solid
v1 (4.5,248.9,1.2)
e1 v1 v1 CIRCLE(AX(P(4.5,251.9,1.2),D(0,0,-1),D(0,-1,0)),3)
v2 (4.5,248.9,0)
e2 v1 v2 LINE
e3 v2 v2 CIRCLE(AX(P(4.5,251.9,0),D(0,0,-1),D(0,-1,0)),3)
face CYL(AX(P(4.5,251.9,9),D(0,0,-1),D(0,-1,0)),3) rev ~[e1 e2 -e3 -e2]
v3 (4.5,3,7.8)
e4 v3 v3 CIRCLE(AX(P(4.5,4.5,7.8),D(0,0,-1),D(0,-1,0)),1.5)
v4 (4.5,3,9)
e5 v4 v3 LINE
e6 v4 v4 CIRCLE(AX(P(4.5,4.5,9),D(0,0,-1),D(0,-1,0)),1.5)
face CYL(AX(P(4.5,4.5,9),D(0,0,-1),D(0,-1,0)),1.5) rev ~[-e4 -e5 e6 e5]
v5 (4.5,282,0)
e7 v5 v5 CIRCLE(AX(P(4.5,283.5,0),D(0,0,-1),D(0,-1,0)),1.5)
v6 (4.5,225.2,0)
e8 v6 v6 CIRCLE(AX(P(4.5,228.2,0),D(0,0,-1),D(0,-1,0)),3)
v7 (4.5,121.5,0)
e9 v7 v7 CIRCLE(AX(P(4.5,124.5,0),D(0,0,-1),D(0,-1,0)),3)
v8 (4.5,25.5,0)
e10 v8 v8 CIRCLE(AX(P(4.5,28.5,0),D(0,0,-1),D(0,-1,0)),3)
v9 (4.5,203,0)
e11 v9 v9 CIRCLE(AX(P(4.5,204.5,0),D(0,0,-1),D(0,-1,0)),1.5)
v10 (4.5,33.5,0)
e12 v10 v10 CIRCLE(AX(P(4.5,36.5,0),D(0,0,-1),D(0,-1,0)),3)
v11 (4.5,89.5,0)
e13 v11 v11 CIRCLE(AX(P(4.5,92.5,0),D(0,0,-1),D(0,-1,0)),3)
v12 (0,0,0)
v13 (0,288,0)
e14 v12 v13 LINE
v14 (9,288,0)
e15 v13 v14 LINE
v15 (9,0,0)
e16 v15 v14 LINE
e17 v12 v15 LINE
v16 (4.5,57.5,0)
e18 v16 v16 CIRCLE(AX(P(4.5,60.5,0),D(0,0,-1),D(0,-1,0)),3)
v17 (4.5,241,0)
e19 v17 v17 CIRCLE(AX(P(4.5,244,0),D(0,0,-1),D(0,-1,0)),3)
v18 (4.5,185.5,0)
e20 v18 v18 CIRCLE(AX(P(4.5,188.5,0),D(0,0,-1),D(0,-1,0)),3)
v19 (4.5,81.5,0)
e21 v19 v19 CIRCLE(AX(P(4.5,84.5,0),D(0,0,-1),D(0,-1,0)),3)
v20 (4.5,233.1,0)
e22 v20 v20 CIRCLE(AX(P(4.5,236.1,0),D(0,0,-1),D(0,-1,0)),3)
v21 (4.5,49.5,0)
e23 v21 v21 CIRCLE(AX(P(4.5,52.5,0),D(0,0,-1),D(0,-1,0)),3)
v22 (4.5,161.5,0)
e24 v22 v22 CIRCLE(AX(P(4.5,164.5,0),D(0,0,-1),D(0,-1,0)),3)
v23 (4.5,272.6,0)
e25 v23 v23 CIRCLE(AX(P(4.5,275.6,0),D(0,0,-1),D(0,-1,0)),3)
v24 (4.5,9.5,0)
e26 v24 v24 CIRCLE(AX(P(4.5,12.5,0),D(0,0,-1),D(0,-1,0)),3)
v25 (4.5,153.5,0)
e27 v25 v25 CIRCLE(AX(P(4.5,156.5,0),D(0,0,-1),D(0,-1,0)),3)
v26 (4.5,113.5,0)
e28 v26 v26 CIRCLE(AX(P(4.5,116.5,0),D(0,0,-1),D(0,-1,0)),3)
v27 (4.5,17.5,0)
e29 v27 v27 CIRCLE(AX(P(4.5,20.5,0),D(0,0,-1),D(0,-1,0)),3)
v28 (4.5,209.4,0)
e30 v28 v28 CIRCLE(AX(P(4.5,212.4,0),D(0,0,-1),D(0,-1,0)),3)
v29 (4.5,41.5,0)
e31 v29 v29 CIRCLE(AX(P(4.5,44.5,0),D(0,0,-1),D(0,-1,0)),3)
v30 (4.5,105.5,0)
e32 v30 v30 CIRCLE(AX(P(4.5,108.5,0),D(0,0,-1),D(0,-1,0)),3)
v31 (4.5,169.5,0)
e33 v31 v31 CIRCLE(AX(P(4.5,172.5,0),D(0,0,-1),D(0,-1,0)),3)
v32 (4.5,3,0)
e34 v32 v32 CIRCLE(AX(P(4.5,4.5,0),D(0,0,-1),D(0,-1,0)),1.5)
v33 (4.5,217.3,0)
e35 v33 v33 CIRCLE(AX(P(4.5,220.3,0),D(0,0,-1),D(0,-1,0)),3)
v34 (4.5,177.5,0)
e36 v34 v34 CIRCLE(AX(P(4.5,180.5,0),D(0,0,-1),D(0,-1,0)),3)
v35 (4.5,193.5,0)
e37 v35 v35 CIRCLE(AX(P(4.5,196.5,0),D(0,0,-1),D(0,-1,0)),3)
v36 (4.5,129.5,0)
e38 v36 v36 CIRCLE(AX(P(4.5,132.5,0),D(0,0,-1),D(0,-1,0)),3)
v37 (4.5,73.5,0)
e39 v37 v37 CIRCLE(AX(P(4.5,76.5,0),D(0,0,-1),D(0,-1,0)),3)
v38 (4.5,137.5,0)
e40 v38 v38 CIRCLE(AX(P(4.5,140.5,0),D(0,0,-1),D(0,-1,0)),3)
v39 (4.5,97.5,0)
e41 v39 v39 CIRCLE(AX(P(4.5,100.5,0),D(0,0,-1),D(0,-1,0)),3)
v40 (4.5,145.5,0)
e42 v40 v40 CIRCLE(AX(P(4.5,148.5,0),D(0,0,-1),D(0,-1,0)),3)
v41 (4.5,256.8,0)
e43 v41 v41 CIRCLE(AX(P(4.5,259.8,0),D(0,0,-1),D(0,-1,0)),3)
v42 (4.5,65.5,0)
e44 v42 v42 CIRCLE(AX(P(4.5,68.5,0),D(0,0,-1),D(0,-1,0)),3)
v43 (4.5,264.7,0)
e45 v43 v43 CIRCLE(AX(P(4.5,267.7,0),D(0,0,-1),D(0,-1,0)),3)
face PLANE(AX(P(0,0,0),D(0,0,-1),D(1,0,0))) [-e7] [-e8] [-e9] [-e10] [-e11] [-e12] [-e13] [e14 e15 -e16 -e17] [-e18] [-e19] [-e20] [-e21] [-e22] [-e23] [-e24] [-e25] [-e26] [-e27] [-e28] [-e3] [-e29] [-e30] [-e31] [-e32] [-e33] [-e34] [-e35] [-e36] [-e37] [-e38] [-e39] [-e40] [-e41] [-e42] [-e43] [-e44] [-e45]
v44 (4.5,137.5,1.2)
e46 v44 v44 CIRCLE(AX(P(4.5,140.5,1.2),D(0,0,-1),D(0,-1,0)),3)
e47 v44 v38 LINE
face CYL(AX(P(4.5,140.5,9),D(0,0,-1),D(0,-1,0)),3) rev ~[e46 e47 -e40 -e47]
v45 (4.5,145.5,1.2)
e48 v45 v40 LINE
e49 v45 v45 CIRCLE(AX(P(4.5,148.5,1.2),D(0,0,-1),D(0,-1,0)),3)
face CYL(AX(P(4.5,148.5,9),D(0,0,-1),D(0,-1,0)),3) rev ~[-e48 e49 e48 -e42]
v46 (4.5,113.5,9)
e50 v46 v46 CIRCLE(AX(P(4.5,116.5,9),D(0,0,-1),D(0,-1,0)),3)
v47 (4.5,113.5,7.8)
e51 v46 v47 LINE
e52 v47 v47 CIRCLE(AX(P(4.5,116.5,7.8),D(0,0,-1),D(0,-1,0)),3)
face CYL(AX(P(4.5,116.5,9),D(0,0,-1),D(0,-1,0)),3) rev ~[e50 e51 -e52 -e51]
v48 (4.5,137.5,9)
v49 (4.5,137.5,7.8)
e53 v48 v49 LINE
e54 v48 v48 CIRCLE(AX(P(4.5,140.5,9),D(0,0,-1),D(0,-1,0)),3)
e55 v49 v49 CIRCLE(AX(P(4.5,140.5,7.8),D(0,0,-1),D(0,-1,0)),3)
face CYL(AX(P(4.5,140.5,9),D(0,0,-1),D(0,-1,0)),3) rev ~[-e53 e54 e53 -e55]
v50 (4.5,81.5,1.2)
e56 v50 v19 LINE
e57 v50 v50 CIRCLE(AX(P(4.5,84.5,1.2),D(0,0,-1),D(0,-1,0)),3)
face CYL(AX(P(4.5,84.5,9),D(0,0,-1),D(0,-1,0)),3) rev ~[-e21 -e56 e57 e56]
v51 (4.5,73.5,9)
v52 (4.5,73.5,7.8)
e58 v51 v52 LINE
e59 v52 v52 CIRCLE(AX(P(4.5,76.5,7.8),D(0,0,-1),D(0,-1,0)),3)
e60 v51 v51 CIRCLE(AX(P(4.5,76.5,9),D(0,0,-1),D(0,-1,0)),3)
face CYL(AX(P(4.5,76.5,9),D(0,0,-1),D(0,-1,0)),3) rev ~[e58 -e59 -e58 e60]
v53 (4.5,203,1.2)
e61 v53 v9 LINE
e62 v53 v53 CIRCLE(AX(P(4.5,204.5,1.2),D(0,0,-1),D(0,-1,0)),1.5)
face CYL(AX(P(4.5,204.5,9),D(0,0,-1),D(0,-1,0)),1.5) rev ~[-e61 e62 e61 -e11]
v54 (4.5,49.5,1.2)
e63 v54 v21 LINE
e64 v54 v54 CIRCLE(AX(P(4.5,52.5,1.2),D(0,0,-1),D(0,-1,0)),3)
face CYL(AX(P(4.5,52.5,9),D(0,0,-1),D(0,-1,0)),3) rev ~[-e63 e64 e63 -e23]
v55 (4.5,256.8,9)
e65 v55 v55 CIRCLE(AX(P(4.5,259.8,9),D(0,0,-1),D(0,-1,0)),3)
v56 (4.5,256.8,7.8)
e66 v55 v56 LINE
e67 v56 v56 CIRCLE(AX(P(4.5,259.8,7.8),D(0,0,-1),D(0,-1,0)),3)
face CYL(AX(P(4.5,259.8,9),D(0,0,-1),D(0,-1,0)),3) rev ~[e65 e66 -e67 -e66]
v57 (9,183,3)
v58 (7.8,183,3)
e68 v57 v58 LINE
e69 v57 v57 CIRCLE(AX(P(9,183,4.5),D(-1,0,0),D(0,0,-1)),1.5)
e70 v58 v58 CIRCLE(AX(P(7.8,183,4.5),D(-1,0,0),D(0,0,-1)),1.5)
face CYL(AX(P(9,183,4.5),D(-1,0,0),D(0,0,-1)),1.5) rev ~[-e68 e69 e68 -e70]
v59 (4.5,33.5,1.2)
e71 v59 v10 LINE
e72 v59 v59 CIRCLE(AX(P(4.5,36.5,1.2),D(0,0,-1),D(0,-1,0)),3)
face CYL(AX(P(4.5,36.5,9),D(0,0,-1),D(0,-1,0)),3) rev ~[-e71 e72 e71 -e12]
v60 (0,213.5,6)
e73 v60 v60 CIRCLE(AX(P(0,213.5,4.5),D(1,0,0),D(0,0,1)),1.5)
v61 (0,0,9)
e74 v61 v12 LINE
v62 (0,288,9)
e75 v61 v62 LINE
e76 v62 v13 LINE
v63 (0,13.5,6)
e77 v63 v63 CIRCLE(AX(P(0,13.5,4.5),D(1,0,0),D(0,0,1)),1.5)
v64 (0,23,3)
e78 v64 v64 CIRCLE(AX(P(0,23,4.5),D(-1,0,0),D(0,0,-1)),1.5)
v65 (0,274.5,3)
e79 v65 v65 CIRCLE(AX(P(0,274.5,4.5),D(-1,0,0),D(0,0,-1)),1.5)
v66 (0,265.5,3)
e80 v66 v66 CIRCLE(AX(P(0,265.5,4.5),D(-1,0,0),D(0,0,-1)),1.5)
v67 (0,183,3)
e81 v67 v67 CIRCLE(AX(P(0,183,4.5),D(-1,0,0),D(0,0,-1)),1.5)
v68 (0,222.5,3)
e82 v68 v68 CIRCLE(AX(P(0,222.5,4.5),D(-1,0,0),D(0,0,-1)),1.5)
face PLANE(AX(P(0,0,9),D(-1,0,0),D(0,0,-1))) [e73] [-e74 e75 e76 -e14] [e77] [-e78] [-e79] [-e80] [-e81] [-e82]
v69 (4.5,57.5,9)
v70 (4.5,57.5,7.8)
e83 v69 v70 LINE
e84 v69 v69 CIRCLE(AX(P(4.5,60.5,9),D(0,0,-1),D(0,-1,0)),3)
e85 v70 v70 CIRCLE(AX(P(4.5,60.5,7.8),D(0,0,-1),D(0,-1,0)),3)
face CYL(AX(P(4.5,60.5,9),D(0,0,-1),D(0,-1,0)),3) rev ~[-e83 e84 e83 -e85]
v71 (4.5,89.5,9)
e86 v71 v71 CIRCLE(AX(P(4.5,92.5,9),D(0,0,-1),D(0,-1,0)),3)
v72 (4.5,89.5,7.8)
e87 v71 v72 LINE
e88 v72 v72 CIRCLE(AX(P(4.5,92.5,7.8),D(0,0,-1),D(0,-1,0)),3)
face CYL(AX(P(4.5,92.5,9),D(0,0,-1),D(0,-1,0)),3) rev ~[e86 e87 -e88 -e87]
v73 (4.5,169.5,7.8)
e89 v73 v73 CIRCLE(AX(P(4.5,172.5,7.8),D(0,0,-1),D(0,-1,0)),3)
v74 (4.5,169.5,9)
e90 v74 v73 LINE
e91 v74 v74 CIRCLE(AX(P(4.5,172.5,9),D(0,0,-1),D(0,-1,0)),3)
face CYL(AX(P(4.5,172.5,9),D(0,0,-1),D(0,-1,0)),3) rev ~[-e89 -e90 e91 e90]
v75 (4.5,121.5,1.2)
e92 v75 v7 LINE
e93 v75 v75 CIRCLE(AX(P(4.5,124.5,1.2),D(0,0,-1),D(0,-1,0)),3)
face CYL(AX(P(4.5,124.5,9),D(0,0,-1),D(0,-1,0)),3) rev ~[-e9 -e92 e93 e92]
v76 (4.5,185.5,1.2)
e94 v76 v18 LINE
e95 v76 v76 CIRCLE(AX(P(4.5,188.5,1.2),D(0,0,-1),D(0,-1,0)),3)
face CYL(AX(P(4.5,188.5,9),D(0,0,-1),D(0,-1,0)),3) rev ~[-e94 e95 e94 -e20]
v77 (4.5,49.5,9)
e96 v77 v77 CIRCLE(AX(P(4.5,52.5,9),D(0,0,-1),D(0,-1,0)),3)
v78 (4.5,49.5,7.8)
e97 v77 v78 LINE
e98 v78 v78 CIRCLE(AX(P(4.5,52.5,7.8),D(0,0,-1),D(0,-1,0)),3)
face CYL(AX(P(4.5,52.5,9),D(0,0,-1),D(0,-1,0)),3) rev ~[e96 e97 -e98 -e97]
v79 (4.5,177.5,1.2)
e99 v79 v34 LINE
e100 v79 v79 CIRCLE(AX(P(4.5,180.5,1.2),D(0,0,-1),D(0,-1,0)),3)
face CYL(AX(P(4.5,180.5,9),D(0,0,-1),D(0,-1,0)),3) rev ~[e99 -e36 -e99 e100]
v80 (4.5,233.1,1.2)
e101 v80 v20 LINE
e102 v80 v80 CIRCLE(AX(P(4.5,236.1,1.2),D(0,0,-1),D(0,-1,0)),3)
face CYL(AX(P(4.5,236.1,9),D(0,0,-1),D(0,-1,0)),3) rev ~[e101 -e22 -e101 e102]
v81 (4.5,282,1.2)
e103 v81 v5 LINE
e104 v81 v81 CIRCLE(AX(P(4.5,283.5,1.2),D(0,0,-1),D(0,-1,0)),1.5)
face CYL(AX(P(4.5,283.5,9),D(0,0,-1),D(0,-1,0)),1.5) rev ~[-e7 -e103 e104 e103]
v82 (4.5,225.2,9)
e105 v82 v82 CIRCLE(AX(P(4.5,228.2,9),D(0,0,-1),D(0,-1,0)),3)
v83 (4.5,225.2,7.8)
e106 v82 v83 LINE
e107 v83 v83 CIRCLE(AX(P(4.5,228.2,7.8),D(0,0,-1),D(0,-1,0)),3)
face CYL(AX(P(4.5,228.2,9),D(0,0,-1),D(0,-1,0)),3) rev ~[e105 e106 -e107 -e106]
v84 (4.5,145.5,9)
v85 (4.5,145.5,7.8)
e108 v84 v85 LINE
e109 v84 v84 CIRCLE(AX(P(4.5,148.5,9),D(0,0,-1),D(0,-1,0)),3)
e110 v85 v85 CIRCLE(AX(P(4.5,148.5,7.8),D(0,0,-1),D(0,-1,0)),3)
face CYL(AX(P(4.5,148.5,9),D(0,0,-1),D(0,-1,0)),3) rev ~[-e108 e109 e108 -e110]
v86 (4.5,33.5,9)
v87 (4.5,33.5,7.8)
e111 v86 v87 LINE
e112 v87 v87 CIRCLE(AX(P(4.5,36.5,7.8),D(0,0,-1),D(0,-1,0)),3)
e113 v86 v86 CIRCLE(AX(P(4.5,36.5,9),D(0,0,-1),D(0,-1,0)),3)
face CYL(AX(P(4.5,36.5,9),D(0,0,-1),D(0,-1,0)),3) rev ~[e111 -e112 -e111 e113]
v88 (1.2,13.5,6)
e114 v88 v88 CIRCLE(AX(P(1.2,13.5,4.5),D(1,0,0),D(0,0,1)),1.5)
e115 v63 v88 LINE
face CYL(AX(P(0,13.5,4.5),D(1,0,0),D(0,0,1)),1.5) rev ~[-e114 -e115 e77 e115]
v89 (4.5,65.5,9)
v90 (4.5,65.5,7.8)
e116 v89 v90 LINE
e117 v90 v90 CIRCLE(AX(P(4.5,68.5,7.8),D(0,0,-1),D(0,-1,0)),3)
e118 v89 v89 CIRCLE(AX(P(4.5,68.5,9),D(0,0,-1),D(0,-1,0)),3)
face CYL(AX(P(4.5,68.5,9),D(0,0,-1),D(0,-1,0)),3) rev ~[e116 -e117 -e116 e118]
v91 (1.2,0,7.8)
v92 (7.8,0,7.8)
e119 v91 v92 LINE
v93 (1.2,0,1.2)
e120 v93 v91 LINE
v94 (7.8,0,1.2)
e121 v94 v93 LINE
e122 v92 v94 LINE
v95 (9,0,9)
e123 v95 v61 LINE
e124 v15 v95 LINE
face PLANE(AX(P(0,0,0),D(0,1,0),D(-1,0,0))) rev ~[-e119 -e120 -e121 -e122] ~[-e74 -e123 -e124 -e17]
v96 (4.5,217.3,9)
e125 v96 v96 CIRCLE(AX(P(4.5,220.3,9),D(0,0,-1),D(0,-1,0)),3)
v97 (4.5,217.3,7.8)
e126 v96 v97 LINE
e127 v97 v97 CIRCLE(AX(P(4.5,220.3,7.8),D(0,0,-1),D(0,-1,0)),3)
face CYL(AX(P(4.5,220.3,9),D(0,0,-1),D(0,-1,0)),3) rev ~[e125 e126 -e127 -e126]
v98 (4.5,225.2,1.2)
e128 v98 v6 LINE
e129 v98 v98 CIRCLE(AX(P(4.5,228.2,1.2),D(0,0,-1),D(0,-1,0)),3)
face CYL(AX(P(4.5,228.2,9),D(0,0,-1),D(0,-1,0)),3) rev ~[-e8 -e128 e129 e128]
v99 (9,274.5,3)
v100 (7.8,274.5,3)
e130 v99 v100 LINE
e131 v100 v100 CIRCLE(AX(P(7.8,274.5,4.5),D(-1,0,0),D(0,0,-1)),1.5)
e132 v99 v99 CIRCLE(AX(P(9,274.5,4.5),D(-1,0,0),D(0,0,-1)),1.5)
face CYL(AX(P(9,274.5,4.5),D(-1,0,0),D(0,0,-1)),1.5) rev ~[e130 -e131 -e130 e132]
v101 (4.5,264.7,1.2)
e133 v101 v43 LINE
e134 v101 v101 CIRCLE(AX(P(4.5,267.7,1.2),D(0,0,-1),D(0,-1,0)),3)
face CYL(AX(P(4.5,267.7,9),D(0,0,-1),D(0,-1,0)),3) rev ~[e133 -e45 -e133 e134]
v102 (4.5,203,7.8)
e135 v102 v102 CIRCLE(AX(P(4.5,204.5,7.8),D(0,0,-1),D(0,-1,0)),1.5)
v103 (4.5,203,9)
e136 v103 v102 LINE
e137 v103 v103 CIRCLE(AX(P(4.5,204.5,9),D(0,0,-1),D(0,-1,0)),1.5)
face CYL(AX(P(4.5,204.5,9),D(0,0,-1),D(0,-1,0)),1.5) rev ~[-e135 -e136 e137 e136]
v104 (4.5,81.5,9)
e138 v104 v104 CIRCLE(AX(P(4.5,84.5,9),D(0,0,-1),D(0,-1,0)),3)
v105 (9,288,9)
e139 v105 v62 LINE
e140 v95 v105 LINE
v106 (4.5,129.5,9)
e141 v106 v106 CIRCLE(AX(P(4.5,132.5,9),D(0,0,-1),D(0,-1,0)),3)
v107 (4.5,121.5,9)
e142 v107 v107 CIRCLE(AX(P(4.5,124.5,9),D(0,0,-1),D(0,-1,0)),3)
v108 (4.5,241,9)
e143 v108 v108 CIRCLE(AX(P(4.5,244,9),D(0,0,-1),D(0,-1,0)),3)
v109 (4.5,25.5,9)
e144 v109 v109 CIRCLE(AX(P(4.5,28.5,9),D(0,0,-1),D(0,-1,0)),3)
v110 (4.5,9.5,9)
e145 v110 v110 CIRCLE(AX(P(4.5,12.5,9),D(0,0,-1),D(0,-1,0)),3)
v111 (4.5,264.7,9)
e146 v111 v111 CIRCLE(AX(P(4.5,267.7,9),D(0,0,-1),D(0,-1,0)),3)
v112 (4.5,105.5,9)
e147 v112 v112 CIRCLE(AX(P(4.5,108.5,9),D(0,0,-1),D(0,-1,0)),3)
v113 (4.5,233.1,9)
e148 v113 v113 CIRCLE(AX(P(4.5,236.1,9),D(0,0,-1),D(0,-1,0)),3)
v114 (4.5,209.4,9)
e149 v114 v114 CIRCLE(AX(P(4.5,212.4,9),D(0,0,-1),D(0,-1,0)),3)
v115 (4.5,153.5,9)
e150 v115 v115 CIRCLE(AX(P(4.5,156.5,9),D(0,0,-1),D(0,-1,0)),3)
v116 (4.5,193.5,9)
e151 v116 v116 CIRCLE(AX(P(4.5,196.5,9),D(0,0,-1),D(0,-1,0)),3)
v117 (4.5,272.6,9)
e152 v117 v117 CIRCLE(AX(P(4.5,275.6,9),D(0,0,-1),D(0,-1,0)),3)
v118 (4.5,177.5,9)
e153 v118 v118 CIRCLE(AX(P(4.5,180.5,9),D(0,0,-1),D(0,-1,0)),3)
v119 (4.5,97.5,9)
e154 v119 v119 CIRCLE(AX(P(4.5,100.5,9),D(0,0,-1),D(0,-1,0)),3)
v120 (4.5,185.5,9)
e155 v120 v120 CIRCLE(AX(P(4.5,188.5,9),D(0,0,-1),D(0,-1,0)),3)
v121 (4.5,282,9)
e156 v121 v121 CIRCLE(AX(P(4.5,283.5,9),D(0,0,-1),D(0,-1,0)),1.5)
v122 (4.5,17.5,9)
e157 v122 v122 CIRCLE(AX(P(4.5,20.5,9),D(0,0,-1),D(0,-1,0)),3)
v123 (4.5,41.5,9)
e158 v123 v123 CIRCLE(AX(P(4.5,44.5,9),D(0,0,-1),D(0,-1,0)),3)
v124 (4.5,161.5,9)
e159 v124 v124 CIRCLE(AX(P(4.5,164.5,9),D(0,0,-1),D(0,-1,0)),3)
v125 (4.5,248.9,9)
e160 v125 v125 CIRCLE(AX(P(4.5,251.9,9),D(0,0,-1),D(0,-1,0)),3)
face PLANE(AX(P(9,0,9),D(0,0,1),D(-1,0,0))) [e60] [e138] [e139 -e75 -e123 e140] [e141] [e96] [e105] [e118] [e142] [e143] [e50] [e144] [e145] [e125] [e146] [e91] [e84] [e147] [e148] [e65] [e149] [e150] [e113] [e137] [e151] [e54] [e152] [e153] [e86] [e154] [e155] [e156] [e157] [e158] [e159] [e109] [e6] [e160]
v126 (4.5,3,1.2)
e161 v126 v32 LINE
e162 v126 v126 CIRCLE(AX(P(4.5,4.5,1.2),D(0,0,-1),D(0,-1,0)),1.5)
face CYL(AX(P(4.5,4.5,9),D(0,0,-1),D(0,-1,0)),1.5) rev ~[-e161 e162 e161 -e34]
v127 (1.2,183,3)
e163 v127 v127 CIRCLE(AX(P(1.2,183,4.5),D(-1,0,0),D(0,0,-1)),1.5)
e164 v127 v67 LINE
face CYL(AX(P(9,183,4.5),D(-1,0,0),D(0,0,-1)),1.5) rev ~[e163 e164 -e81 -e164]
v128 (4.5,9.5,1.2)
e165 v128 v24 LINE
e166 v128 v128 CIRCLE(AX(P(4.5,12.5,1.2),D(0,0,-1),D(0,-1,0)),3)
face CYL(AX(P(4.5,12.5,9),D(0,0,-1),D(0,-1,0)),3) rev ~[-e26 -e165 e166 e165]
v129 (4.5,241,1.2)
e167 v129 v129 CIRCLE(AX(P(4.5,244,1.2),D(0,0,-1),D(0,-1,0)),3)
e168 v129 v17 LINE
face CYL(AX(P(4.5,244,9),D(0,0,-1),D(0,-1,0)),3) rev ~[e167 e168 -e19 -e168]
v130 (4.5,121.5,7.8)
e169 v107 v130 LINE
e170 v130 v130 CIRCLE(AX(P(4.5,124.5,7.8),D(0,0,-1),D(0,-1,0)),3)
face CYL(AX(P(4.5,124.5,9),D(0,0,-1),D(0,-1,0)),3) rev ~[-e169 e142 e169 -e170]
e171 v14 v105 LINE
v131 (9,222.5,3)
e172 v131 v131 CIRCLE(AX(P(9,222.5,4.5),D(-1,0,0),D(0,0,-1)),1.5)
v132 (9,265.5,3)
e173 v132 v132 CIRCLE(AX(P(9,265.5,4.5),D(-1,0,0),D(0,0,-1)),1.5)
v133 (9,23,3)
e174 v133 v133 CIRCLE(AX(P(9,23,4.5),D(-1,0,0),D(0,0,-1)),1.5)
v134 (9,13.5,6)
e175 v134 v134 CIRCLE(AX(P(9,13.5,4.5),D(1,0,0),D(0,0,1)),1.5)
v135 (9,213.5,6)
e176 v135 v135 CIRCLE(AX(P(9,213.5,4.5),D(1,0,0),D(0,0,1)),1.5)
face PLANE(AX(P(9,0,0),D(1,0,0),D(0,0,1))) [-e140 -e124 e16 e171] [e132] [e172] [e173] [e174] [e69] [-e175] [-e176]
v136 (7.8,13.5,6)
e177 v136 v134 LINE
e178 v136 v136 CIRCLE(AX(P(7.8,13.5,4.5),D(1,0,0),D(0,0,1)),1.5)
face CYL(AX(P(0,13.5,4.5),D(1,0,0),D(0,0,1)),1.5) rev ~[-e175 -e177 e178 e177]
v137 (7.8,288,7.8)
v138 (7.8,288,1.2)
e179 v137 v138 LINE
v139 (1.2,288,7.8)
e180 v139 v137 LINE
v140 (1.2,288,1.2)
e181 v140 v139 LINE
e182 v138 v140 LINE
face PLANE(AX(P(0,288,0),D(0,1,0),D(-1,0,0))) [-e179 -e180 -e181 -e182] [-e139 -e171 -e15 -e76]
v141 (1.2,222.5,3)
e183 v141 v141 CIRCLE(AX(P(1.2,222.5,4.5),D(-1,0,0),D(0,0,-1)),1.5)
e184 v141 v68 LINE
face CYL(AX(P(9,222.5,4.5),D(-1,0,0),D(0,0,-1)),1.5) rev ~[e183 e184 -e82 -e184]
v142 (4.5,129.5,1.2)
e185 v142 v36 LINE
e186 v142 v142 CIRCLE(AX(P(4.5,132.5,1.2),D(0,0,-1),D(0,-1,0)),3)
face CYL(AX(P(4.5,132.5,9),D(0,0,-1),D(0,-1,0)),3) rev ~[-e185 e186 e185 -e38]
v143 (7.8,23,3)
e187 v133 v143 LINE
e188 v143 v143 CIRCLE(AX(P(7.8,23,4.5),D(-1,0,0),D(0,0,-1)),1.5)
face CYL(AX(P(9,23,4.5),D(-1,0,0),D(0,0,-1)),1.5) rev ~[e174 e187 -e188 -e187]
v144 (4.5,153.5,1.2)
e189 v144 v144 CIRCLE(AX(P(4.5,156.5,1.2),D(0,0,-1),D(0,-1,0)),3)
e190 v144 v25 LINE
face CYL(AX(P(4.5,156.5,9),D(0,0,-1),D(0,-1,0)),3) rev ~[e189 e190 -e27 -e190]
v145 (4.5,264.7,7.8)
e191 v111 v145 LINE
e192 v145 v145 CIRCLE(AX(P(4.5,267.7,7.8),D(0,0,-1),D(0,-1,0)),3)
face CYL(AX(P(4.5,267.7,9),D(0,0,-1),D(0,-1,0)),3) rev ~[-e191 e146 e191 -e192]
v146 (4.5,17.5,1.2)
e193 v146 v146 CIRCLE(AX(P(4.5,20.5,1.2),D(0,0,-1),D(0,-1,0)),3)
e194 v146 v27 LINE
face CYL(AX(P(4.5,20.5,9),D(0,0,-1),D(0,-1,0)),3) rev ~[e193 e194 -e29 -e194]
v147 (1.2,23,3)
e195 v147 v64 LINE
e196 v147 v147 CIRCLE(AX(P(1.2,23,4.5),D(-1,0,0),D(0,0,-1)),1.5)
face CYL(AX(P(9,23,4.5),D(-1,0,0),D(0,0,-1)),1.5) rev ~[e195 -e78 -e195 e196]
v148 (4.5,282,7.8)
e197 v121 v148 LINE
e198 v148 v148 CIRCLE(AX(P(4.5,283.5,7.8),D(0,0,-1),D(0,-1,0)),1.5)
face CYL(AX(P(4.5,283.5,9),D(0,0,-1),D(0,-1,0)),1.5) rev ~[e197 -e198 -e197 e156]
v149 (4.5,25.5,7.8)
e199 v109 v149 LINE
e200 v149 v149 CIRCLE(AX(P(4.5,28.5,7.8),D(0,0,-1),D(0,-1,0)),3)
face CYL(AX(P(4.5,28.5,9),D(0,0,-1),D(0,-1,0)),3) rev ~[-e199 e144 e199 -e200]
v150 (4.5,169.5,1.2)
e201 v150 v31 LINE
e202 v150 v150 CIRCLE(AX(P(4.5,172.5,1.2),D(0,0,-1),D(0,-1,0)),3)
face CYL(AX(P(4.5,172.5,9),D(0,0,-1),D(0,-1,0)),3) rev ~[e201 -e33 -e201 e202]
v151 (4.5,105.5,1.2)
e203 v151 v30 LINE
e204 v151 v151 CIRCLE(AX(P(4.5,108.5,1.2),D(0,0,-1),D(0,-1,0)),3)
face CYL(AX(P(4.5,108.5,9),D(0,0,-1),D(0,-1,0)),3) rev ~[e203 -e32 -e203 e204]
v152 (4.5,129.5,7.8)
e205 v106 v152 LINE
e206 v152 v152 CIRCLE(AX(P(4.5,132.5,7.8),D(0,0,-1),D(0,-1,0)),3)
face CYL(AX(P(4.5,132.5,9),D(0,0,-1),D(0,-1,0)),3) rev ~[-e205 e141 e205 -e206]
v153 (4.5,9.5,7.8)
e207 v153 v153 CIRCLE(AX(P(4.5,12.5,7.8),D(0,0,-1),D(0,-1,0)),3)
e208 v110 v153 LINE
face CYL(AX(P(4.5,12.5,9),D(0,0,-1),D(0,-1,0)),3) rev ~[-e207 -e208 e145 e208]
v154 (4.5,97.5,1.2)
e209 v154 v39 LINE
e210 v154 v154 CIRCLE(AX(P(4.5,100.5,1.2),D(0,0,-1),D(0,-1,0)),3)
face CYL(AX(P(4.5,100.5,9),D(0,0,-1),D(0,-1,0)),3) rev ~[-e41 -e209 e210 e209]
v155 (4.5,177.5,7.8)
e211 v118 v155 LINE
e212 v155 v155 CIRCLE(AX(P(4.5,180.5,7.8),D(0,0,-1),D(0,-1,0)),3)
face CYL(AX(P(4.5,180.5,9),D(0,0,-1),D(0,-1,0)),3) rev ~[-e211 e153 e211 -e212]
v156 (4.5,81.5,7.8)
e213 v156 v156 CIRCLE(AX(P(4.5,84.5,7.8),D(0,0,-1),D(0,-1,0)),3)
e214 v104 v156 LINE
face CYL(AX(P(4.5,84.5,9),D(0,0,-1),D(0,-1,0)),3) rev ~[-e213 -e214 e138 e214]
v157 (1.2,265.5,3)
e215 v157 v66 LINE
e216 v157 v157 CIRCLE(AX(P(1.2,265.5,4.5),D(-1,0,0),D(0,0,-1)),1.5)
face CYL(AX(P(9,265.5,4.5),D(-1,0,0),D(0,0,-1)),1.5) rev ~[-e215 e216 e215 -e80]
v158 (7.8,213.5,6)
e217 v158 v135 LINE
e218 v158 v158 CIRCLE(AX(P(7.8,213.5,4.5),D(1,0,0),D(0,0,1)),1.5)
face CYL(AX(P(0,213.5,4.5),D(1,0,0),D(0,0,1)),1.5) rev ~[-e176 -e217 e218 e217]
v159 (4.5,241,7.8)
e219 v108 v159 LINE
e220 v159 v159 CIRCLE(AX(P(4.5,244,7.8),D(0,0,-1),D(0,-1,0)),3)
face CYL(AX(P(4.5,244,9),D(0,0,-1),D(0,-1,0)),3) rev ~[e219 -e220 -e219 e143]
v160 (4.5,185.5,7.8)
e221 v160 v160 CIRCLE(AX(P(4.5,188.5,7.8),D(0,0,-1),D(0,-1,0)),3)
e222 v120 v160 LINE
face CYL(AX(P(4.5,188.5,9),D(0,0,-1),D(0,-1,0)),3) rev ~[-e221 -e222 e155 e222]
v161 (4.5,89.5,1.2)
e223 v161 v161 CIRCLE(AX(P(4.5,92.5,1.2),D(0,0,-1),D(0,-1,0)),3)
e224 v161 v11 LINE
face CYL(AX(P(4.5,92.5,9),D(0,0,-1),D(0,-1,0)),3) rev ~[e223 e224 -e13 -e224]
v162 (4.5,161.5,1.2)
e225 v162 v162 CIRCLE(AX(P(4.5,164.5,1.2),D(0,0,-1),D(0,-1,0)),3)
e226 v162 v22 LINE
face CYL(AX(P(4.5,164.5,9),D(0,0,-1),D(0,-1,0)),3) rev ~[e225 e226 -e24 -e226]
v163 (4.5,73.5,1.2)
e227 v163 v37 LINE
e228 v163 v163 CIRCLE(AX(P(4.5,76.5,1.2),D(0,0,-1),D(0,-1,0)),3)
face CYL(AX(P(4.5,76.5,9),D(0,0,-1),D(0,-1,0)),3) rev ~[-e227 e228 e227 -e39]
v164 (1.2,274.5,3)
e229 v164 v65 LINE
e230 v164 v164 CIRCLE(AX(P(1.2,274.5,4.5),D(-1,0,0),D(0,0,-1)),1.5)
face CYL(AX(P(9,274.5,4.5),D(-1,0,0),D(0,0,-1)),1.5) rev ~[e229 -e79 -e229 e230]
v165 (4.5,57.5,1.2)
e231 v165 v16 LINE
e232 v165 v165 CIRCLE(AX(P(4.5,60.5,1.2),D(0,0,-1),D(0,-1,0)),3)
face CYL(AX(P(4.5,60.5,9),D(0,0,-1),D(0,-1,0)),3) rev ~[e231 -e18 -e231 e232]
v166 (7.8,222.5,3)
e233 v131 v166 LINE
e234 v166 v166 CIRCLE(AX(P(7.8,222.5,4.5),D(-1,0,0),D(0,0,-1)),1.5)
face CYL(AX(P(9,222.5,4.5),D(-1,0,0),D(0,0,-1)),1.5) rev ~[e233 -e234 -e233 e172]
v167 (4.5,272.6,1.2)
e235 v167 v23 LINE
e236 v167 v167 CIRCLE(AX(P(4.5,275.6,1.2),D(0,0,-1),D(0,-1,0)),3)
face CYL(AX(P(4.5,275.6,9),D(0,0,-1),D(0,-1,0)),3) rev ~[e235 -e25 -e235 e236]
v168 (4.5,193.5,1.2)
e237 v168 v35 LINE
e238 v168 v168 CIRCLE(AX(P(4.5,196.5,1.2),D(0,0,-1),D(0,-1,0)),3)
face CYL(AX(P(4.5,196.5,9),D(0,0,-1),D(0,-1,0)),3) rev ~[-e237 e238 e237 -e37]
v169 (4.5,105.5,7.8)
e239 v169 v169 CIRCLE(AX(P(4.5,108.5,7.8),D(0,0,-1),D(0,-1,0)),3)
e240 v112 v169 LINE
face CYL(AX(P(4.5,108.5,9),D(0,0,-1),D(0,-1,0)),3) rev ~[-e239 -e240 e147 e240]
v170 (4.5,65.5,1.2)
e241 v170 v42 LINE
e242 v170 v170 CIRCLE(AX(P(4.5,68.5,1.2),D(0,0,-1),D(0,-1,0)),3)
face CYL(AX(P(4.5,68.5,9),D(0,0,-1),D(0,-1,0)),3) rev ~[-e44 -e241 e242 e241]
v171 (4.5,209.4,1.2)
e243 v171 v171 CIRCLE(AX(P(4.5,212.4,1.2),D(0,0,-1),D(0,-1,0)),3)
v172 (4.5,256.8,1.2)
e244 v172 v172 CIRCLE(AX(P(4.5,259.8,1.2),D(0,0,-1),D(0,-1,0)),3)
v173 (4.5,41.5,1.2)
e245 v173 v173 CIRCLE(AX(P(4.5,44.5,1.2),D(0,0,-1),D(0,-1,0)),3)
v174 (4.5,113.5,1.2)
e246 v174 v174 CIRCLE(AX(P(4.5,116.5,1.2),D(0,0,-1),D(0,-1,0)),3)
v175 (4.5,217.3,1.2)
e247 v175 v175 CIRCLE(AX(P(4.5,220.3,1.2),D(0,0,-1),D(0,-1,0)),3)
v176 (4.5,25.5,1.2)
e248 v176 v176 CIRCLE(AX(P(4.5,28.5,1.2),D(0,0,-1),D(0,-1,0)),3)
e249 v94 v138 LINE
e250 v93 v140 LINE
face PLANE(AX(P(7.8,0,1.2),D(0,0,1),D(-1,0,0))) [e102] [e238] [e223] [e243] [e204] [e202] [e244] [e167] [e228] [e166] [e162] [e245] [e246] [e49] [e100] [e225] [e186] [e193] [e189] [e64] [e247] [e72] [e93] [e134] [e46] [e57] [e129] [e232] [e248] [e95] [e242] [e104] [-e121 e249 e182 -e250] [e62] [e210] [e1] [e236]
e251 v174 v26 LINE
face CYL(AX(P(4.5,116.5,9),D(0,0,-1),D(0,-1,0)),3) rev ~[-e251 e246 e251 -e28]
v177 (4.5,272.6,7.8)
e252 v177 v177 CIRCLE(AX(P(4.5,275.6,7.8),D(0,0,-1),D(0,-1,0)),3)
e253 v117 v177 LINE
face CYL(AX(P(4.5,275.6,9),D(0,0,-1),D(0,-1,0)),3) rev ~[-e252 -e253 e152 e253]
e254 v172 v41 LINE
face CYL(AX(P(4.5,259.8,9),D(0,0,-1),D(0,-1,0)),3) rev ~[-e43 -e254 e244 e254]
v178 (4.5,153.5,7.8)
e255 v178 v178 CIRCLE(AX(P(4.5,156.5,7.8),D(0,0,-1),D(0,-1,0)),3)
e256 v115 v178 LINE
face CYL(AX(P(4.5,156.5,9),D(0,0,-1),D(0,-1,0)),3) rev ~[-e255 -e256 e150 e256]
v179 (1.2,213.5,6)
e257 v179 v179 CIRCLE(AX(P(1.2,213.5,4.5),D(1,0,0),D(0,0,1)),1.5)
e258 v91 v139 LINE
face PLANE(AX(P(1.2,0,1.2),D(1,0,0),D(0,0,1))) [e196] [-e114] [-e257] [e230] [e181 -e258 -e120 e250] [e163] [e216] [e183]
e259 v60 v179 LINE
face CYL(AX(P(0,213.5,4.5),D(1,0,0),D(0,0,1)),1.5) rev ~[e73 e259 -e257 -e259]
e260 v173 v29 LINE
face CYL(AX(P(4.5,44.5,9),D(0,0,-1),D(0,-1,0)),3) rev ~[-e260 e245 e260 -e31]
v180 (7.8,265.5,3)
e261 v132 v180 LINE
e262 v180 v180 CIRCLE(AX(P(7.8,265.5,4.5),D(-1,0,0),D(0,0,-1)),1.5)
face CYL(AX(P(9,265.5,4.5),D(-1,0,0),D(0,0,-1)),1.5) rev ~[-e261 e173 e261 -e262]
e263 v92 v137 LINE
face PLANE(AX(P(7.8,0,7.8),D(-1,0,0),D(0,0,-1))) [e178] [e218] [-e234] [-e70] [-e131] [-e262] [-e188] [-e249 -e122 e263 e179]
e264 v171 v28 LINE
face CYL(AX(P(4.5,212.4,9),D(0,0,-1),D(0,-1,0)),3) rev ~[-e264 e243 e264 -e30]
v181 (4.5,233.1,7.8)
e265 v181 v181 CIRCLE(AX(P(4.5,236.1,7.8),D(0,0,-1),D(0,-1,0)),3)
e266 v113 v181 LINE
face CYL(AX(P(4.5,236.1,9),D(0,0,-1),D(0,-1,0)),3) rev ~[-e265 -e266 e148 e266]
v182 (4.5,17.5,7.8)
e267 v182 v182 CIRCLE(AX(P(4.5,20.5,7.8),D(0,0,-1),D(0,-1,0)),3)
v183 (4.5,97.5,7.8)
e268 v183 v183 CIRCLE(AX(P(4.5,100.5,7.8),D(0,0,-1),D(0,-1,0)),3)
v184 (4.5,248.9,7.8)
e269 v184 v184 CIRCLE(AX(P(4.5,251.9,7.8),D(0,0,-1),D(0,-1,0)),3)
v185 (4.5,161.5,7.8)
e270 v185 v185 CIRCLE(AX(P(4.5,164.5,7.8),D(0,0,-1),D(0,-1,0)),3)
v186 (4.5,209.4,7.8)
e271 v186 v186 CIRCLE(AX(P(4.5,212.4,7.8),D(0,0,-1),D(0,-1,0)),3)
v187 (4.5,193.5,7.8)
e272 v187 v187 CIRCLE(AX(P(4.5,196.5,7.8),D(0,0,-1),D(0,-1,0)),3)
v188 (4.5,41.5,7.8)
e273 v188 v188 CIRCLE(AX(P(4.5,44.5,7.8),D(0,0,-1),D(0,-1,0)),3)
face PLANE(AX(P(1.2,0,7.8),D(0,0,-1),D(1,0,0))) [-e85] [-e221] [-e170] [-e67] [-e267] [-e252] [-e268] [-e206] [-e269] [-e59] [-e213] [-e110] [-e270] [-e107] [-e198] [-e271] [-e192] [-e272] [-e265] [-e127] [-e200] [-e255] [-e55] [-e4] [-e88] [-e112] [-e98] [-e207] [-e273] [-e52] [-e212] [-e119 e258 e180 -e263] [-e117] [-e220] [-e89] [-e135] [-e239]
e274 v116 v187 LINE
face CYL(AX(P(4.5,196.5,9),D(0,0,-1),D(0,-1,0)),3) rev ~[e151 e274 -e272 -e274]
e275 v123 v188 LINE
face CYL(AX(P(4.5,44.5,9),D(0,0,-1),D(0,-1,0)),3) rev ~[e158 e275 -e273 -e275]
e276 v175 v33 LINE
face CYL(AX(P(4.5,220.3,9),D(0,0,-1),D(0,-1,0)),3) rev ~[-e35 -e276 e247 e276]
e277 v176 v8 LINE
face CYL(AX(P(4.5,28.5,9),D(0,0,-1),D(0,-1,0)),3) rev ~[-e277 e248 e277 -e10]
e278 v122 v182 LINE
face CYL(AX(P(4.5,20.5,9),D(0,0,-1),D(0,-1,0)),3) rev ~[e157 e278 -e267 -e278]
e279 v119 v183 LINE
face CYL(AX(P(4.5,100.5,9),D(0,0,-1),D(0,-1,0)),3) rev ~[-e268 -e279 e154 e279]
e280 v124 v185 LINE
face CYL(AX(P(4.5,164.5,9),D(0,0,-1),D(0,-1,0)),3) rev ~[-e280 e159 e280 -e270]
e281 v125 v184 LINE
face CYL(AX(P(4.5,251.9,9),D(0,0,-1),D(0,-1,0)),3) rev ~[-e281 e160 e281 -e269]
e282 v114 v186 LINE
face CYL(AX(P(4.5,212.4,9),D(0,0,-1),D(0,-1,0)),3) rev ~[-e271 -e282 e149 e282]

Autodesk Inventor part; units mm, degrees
ref_plane "YZ Plane" through (0, 0, 0) normal (1, 0, 0) x (0, 1, 0)
ref_plane "XZ Plane" through (0, 0, 0) normal (0, 1, 0) x (-1, 0, 0)
ref_plane "XY Plane" through (0, 0, 0) normal (0, 0, 1) x (1, 0, 0)
sketch "スケッチ1" plane through (0, 0, 0) normal (0, 1, 0) x (-1, 0, 0)
  line L0 (0, 0) -> (-9, 0)
  line L1 (-9, 0) -> (-9, 9)
  line L2 (-9, 9) -> (0, 9)
  line L3 (0, 9) -> (0, 0)
  line L4 (-1.2, 7.8) -> (-7.8, 7.8)
  line L5 (-7.8, 7.8) -> (-7.8, 1.2)
  line L6 (-7.8, 1.2) -> (-1.2, 1.2)
  line L7 (-1.2, 1.2) -> (-1.2, 7.8)
  dimension "d0" = 9
  dimension "d1" = 9
  dimension "d2" = 6.6
  dimension "d3" = 6.6
  dimension "d4" = 1.2
  dimension "d5" = 1.2
extrude "押し出し1" add sketch "スケッチ1" along normal blind 288
sketch "スケッチ2" plane through (0, 0, 9) normal (0, 0, 1) x (1, 0, 0)
  line L0 (0, 0) -> (0, 288) projected
  line L1 (0, 0) -> (9, 0) projected
  point P0 (4.5, 4.5)
  dimension "d8" = 4.5
  dimension "d9" = 4.5
hole "穴1" at (4.5, 4.5, 9) direction (0, 0, -1) diameter 3 end through all
sketch "スケッチ3" plane through (0, 0, 0) normal (-1, 0, 0) x (0, 0, 1)
  line L0 (0, 0) -> (9, 0) projected
  line L1 (9, 0) -> (9, 288) projected
  point P0 (4.5, 13.5)
  dimension "d17" = 13.5
  dimension "d18" = 4.5
hole "穴2" at (0, 13.5, 4.5) direction (1, 0, 0) diameter 3 end through all
sketch "スケッチ4" plane through (0, 0, 9) normal (0, 0, 1) x (1, 0, 0)
  line L0 (0, 288) -> (9, 288) projected
  line L1 (9, 0) -> (9, 288) projected
  point P0 (0, 0)
  point P1 (4.5, 283.5)
  dimension "d26" = 4.5
  dimension "d27" = 4.5
hole "穴3" at (4.5, 283.5, 9) direction (0, 0, -1) diameter 3 end through all
sketch "スケッチ5" plane through (9, 0, 9) normal (1, 0, 0) x (0, 0, -1)
  line L0 (0, 288) -> (9, 288) projected
  line L1 (9, 0) -> (9, 288) projected
  point P0 (4.5, 274.5)
  dimension "d35" = 13.5
  dimension "d36" = 4.5
hole "穴4" at (9, 274.5, 4.5) direction (-1, 0, 0) diameter 3 end through all
sketch "スケッチ6" plane through (9, 0, 9) normal (1, 0, 0) x (0, 0, -1)
  line L0 (0, 0) -> (0, 288) projected
  line L1 (0, 0) -> (9, 0) projected
  line L2 (0, 288) -> (9, 288) projected
  point P0 (4.5, 222.5)
  point P1 (4.5, 265.5)
  dimension "d44" = 4.5
  dimension "d45" = 222.5
  dimension "d46" = 4.5
  dimension "d47" = 22.5
hole "穴5" at (9, 222.5, 4.5) at (9, 265.5, 4.5) direction (-1, 0, 0) diameter 3 end through all
sketch "スケッチ7" plane through (0, 0, 0) normal (-1, 0, 0) x (0, 0, 1)
  line L0 (9, 0) -> (9, 288) projected
  circle A0 centre (4.5, 222.5) radius 1.5 projected
  point P0 (0, 0)
  point P1 (4.5, 213.5)
  dimension "d55" = 4.5
  dimension "d56" = 9
hole "穴6" at (0, 213.5, 4.5) direction (1, 0, 0) diameter 3 end through all
sketch "スケッチ8" plane through (9, 0, 9) normal (1, 0, 0) x (0, 0, -1)
  line L0 (0, 0) -> (0, 288) projected
  circle A0 centre (4.5, 13.5) radius 1.5 projected
  point P0 (9, 0)
  point P1 (4.5, 23)
  point P2 (4.5, 183)
  dimension "d64" = 4.5
  dimension "d65" = 9.5
  dimension "d66" = 160
  dimension "d67" = 4.5
hole "穴7" at (9, 23, 4.5) at (9, 183, 4.5) direction (-1, 0, 0) diameter 3 end through all
sketch "スケッチ9" plane through (0, 0, 9) normal (0, 0, 1) x (1, 0, 0)
  line L0 (0, 0) -> (0, 288) projected
  line L1 (0, 288) -> (9, 288) projected
  point P0 (4.5, 204.5)
  dimension "d75" = 4.5
  dimension "d76" = 83.5
hole "穴8" at (4.5, 204.5, 9) direction (0, 0, -1) diameter 3 end through all
sketch "スケッチ10" plane through (0, 0, 9) normal (0, 0, 1) x (1, 0, 0)
  line L0 (0, 0) -> (0, 288) projected
  circle A0 centre (4.5, 204.5) radius 1.5 projected
  circle A1 centre (4.5, 283.5) radius 1.5 projected
  circle A2 centre (4.5, 4.5) radius 1.5 projected
  point P0 (4.5, 275.6)
  point P1 (4.5, 267.7)
  point P2 (4.5, 259.8)
  point P3 (4.5, 251.9)
  point P4 (4.5, 244)
  point P5 (4.5, 236.1)
  point P6 (4.5, 228.2)
  point P7 (4.5, 220.3)
  point P8 (4.5, 212.4)
  point P9 (4.5, 196.5)
  point P10 (4.5, 188.5)
  point P11 (4.5, 180.5)
  point P12 (4.5, 172.5)
  point P13 (4.5, 164.5)
  point P14 (4.5, 156.5)
  point P15 (4.5, 148.5)
  point P16 (4.5, 140.5)
  point P17 (4.5, 132.5)
  point P18 (4.5, 124.5)
  point P19 (4.5, 116.5)
  point P20 (4.5, 108.5)
  point P21 (4.5, 100.5)
  point P22 (4.5, 92.5)
  point P23 (4.5, 84.5)
  point P24 (4.5, 76.5)
  point P25 (4.5, 68.5)
  point P26 (4.5, 60.5)
  point P27 (4.5, 52.5)
  point P28 (4.5, 44.5)
  point P29 (4.5, 36.5)
  point P30 (4.5, 28.5)
  point P31 (4.5, 20.5)
  point P32 (4.5, 12.5)
  dimension "d84" = 4.5
  dimension "d85" = 79
  dimension "d88" = 7.9
  dimension "d93" = 7.9
  dimension "d94" = 4.5
  dimension "d95" = 200
  dimension "d96" = 8
  dimension "d99" = 8
hole "穴9" at (4.5, 275.6, 9) at (4.5, 267.7, 9) at (4.5, 259.8, 9) at (4.5, 251.9, 9) at (4.5, 244, 9) at (4.5, 236.1, 9) at (4.5, 228.2, 9) at (4.5, 220.3, 9) at (4.5, 212.4, 9) at (4.5, 196.5, 9) at (4.5, 188.5, 9) at (4.5, 180.5, 9) at (4.5, 172.5, 9) at (4.5, 164.5, 9) at (4.5, 156.5, 9) at (4.5, 148.5, 9) at (4.5, 140.5, 9) at (4.5, 132.5, 9) at (4.5, 124.5, 9) at (4.5, 116.5, 9) at (4.5, 108.5, 9) at (4.5, 100.5, 9) at (4.5, 92.5, 9) at (4.5, 84.5, 9) at (4.5, 76.5, 9) at (4.5, 68.5, 9) at (4.5, 60.5, 9) at (4.5, 52.5, 9) at (4.5, 44.5, 9) at (4.5, 36.5, 9) at (4.5, 28.5, 9) at (4.5, 20.5, 9) at (4.5, 12.5, 9) direction (0, 0, -1) diameter 6 end through all
equation "\"d5\" = d4"
equation "\"d9\" = d8"
equation "\"d27\" = d26"
equation "\"d88\" = 0.1 * d85"
equation "\"d93\" = d88"
equation "\"d99\" = d96"
properties part number "ロボット回転9x9_2" material "アルミニウム 6061"
